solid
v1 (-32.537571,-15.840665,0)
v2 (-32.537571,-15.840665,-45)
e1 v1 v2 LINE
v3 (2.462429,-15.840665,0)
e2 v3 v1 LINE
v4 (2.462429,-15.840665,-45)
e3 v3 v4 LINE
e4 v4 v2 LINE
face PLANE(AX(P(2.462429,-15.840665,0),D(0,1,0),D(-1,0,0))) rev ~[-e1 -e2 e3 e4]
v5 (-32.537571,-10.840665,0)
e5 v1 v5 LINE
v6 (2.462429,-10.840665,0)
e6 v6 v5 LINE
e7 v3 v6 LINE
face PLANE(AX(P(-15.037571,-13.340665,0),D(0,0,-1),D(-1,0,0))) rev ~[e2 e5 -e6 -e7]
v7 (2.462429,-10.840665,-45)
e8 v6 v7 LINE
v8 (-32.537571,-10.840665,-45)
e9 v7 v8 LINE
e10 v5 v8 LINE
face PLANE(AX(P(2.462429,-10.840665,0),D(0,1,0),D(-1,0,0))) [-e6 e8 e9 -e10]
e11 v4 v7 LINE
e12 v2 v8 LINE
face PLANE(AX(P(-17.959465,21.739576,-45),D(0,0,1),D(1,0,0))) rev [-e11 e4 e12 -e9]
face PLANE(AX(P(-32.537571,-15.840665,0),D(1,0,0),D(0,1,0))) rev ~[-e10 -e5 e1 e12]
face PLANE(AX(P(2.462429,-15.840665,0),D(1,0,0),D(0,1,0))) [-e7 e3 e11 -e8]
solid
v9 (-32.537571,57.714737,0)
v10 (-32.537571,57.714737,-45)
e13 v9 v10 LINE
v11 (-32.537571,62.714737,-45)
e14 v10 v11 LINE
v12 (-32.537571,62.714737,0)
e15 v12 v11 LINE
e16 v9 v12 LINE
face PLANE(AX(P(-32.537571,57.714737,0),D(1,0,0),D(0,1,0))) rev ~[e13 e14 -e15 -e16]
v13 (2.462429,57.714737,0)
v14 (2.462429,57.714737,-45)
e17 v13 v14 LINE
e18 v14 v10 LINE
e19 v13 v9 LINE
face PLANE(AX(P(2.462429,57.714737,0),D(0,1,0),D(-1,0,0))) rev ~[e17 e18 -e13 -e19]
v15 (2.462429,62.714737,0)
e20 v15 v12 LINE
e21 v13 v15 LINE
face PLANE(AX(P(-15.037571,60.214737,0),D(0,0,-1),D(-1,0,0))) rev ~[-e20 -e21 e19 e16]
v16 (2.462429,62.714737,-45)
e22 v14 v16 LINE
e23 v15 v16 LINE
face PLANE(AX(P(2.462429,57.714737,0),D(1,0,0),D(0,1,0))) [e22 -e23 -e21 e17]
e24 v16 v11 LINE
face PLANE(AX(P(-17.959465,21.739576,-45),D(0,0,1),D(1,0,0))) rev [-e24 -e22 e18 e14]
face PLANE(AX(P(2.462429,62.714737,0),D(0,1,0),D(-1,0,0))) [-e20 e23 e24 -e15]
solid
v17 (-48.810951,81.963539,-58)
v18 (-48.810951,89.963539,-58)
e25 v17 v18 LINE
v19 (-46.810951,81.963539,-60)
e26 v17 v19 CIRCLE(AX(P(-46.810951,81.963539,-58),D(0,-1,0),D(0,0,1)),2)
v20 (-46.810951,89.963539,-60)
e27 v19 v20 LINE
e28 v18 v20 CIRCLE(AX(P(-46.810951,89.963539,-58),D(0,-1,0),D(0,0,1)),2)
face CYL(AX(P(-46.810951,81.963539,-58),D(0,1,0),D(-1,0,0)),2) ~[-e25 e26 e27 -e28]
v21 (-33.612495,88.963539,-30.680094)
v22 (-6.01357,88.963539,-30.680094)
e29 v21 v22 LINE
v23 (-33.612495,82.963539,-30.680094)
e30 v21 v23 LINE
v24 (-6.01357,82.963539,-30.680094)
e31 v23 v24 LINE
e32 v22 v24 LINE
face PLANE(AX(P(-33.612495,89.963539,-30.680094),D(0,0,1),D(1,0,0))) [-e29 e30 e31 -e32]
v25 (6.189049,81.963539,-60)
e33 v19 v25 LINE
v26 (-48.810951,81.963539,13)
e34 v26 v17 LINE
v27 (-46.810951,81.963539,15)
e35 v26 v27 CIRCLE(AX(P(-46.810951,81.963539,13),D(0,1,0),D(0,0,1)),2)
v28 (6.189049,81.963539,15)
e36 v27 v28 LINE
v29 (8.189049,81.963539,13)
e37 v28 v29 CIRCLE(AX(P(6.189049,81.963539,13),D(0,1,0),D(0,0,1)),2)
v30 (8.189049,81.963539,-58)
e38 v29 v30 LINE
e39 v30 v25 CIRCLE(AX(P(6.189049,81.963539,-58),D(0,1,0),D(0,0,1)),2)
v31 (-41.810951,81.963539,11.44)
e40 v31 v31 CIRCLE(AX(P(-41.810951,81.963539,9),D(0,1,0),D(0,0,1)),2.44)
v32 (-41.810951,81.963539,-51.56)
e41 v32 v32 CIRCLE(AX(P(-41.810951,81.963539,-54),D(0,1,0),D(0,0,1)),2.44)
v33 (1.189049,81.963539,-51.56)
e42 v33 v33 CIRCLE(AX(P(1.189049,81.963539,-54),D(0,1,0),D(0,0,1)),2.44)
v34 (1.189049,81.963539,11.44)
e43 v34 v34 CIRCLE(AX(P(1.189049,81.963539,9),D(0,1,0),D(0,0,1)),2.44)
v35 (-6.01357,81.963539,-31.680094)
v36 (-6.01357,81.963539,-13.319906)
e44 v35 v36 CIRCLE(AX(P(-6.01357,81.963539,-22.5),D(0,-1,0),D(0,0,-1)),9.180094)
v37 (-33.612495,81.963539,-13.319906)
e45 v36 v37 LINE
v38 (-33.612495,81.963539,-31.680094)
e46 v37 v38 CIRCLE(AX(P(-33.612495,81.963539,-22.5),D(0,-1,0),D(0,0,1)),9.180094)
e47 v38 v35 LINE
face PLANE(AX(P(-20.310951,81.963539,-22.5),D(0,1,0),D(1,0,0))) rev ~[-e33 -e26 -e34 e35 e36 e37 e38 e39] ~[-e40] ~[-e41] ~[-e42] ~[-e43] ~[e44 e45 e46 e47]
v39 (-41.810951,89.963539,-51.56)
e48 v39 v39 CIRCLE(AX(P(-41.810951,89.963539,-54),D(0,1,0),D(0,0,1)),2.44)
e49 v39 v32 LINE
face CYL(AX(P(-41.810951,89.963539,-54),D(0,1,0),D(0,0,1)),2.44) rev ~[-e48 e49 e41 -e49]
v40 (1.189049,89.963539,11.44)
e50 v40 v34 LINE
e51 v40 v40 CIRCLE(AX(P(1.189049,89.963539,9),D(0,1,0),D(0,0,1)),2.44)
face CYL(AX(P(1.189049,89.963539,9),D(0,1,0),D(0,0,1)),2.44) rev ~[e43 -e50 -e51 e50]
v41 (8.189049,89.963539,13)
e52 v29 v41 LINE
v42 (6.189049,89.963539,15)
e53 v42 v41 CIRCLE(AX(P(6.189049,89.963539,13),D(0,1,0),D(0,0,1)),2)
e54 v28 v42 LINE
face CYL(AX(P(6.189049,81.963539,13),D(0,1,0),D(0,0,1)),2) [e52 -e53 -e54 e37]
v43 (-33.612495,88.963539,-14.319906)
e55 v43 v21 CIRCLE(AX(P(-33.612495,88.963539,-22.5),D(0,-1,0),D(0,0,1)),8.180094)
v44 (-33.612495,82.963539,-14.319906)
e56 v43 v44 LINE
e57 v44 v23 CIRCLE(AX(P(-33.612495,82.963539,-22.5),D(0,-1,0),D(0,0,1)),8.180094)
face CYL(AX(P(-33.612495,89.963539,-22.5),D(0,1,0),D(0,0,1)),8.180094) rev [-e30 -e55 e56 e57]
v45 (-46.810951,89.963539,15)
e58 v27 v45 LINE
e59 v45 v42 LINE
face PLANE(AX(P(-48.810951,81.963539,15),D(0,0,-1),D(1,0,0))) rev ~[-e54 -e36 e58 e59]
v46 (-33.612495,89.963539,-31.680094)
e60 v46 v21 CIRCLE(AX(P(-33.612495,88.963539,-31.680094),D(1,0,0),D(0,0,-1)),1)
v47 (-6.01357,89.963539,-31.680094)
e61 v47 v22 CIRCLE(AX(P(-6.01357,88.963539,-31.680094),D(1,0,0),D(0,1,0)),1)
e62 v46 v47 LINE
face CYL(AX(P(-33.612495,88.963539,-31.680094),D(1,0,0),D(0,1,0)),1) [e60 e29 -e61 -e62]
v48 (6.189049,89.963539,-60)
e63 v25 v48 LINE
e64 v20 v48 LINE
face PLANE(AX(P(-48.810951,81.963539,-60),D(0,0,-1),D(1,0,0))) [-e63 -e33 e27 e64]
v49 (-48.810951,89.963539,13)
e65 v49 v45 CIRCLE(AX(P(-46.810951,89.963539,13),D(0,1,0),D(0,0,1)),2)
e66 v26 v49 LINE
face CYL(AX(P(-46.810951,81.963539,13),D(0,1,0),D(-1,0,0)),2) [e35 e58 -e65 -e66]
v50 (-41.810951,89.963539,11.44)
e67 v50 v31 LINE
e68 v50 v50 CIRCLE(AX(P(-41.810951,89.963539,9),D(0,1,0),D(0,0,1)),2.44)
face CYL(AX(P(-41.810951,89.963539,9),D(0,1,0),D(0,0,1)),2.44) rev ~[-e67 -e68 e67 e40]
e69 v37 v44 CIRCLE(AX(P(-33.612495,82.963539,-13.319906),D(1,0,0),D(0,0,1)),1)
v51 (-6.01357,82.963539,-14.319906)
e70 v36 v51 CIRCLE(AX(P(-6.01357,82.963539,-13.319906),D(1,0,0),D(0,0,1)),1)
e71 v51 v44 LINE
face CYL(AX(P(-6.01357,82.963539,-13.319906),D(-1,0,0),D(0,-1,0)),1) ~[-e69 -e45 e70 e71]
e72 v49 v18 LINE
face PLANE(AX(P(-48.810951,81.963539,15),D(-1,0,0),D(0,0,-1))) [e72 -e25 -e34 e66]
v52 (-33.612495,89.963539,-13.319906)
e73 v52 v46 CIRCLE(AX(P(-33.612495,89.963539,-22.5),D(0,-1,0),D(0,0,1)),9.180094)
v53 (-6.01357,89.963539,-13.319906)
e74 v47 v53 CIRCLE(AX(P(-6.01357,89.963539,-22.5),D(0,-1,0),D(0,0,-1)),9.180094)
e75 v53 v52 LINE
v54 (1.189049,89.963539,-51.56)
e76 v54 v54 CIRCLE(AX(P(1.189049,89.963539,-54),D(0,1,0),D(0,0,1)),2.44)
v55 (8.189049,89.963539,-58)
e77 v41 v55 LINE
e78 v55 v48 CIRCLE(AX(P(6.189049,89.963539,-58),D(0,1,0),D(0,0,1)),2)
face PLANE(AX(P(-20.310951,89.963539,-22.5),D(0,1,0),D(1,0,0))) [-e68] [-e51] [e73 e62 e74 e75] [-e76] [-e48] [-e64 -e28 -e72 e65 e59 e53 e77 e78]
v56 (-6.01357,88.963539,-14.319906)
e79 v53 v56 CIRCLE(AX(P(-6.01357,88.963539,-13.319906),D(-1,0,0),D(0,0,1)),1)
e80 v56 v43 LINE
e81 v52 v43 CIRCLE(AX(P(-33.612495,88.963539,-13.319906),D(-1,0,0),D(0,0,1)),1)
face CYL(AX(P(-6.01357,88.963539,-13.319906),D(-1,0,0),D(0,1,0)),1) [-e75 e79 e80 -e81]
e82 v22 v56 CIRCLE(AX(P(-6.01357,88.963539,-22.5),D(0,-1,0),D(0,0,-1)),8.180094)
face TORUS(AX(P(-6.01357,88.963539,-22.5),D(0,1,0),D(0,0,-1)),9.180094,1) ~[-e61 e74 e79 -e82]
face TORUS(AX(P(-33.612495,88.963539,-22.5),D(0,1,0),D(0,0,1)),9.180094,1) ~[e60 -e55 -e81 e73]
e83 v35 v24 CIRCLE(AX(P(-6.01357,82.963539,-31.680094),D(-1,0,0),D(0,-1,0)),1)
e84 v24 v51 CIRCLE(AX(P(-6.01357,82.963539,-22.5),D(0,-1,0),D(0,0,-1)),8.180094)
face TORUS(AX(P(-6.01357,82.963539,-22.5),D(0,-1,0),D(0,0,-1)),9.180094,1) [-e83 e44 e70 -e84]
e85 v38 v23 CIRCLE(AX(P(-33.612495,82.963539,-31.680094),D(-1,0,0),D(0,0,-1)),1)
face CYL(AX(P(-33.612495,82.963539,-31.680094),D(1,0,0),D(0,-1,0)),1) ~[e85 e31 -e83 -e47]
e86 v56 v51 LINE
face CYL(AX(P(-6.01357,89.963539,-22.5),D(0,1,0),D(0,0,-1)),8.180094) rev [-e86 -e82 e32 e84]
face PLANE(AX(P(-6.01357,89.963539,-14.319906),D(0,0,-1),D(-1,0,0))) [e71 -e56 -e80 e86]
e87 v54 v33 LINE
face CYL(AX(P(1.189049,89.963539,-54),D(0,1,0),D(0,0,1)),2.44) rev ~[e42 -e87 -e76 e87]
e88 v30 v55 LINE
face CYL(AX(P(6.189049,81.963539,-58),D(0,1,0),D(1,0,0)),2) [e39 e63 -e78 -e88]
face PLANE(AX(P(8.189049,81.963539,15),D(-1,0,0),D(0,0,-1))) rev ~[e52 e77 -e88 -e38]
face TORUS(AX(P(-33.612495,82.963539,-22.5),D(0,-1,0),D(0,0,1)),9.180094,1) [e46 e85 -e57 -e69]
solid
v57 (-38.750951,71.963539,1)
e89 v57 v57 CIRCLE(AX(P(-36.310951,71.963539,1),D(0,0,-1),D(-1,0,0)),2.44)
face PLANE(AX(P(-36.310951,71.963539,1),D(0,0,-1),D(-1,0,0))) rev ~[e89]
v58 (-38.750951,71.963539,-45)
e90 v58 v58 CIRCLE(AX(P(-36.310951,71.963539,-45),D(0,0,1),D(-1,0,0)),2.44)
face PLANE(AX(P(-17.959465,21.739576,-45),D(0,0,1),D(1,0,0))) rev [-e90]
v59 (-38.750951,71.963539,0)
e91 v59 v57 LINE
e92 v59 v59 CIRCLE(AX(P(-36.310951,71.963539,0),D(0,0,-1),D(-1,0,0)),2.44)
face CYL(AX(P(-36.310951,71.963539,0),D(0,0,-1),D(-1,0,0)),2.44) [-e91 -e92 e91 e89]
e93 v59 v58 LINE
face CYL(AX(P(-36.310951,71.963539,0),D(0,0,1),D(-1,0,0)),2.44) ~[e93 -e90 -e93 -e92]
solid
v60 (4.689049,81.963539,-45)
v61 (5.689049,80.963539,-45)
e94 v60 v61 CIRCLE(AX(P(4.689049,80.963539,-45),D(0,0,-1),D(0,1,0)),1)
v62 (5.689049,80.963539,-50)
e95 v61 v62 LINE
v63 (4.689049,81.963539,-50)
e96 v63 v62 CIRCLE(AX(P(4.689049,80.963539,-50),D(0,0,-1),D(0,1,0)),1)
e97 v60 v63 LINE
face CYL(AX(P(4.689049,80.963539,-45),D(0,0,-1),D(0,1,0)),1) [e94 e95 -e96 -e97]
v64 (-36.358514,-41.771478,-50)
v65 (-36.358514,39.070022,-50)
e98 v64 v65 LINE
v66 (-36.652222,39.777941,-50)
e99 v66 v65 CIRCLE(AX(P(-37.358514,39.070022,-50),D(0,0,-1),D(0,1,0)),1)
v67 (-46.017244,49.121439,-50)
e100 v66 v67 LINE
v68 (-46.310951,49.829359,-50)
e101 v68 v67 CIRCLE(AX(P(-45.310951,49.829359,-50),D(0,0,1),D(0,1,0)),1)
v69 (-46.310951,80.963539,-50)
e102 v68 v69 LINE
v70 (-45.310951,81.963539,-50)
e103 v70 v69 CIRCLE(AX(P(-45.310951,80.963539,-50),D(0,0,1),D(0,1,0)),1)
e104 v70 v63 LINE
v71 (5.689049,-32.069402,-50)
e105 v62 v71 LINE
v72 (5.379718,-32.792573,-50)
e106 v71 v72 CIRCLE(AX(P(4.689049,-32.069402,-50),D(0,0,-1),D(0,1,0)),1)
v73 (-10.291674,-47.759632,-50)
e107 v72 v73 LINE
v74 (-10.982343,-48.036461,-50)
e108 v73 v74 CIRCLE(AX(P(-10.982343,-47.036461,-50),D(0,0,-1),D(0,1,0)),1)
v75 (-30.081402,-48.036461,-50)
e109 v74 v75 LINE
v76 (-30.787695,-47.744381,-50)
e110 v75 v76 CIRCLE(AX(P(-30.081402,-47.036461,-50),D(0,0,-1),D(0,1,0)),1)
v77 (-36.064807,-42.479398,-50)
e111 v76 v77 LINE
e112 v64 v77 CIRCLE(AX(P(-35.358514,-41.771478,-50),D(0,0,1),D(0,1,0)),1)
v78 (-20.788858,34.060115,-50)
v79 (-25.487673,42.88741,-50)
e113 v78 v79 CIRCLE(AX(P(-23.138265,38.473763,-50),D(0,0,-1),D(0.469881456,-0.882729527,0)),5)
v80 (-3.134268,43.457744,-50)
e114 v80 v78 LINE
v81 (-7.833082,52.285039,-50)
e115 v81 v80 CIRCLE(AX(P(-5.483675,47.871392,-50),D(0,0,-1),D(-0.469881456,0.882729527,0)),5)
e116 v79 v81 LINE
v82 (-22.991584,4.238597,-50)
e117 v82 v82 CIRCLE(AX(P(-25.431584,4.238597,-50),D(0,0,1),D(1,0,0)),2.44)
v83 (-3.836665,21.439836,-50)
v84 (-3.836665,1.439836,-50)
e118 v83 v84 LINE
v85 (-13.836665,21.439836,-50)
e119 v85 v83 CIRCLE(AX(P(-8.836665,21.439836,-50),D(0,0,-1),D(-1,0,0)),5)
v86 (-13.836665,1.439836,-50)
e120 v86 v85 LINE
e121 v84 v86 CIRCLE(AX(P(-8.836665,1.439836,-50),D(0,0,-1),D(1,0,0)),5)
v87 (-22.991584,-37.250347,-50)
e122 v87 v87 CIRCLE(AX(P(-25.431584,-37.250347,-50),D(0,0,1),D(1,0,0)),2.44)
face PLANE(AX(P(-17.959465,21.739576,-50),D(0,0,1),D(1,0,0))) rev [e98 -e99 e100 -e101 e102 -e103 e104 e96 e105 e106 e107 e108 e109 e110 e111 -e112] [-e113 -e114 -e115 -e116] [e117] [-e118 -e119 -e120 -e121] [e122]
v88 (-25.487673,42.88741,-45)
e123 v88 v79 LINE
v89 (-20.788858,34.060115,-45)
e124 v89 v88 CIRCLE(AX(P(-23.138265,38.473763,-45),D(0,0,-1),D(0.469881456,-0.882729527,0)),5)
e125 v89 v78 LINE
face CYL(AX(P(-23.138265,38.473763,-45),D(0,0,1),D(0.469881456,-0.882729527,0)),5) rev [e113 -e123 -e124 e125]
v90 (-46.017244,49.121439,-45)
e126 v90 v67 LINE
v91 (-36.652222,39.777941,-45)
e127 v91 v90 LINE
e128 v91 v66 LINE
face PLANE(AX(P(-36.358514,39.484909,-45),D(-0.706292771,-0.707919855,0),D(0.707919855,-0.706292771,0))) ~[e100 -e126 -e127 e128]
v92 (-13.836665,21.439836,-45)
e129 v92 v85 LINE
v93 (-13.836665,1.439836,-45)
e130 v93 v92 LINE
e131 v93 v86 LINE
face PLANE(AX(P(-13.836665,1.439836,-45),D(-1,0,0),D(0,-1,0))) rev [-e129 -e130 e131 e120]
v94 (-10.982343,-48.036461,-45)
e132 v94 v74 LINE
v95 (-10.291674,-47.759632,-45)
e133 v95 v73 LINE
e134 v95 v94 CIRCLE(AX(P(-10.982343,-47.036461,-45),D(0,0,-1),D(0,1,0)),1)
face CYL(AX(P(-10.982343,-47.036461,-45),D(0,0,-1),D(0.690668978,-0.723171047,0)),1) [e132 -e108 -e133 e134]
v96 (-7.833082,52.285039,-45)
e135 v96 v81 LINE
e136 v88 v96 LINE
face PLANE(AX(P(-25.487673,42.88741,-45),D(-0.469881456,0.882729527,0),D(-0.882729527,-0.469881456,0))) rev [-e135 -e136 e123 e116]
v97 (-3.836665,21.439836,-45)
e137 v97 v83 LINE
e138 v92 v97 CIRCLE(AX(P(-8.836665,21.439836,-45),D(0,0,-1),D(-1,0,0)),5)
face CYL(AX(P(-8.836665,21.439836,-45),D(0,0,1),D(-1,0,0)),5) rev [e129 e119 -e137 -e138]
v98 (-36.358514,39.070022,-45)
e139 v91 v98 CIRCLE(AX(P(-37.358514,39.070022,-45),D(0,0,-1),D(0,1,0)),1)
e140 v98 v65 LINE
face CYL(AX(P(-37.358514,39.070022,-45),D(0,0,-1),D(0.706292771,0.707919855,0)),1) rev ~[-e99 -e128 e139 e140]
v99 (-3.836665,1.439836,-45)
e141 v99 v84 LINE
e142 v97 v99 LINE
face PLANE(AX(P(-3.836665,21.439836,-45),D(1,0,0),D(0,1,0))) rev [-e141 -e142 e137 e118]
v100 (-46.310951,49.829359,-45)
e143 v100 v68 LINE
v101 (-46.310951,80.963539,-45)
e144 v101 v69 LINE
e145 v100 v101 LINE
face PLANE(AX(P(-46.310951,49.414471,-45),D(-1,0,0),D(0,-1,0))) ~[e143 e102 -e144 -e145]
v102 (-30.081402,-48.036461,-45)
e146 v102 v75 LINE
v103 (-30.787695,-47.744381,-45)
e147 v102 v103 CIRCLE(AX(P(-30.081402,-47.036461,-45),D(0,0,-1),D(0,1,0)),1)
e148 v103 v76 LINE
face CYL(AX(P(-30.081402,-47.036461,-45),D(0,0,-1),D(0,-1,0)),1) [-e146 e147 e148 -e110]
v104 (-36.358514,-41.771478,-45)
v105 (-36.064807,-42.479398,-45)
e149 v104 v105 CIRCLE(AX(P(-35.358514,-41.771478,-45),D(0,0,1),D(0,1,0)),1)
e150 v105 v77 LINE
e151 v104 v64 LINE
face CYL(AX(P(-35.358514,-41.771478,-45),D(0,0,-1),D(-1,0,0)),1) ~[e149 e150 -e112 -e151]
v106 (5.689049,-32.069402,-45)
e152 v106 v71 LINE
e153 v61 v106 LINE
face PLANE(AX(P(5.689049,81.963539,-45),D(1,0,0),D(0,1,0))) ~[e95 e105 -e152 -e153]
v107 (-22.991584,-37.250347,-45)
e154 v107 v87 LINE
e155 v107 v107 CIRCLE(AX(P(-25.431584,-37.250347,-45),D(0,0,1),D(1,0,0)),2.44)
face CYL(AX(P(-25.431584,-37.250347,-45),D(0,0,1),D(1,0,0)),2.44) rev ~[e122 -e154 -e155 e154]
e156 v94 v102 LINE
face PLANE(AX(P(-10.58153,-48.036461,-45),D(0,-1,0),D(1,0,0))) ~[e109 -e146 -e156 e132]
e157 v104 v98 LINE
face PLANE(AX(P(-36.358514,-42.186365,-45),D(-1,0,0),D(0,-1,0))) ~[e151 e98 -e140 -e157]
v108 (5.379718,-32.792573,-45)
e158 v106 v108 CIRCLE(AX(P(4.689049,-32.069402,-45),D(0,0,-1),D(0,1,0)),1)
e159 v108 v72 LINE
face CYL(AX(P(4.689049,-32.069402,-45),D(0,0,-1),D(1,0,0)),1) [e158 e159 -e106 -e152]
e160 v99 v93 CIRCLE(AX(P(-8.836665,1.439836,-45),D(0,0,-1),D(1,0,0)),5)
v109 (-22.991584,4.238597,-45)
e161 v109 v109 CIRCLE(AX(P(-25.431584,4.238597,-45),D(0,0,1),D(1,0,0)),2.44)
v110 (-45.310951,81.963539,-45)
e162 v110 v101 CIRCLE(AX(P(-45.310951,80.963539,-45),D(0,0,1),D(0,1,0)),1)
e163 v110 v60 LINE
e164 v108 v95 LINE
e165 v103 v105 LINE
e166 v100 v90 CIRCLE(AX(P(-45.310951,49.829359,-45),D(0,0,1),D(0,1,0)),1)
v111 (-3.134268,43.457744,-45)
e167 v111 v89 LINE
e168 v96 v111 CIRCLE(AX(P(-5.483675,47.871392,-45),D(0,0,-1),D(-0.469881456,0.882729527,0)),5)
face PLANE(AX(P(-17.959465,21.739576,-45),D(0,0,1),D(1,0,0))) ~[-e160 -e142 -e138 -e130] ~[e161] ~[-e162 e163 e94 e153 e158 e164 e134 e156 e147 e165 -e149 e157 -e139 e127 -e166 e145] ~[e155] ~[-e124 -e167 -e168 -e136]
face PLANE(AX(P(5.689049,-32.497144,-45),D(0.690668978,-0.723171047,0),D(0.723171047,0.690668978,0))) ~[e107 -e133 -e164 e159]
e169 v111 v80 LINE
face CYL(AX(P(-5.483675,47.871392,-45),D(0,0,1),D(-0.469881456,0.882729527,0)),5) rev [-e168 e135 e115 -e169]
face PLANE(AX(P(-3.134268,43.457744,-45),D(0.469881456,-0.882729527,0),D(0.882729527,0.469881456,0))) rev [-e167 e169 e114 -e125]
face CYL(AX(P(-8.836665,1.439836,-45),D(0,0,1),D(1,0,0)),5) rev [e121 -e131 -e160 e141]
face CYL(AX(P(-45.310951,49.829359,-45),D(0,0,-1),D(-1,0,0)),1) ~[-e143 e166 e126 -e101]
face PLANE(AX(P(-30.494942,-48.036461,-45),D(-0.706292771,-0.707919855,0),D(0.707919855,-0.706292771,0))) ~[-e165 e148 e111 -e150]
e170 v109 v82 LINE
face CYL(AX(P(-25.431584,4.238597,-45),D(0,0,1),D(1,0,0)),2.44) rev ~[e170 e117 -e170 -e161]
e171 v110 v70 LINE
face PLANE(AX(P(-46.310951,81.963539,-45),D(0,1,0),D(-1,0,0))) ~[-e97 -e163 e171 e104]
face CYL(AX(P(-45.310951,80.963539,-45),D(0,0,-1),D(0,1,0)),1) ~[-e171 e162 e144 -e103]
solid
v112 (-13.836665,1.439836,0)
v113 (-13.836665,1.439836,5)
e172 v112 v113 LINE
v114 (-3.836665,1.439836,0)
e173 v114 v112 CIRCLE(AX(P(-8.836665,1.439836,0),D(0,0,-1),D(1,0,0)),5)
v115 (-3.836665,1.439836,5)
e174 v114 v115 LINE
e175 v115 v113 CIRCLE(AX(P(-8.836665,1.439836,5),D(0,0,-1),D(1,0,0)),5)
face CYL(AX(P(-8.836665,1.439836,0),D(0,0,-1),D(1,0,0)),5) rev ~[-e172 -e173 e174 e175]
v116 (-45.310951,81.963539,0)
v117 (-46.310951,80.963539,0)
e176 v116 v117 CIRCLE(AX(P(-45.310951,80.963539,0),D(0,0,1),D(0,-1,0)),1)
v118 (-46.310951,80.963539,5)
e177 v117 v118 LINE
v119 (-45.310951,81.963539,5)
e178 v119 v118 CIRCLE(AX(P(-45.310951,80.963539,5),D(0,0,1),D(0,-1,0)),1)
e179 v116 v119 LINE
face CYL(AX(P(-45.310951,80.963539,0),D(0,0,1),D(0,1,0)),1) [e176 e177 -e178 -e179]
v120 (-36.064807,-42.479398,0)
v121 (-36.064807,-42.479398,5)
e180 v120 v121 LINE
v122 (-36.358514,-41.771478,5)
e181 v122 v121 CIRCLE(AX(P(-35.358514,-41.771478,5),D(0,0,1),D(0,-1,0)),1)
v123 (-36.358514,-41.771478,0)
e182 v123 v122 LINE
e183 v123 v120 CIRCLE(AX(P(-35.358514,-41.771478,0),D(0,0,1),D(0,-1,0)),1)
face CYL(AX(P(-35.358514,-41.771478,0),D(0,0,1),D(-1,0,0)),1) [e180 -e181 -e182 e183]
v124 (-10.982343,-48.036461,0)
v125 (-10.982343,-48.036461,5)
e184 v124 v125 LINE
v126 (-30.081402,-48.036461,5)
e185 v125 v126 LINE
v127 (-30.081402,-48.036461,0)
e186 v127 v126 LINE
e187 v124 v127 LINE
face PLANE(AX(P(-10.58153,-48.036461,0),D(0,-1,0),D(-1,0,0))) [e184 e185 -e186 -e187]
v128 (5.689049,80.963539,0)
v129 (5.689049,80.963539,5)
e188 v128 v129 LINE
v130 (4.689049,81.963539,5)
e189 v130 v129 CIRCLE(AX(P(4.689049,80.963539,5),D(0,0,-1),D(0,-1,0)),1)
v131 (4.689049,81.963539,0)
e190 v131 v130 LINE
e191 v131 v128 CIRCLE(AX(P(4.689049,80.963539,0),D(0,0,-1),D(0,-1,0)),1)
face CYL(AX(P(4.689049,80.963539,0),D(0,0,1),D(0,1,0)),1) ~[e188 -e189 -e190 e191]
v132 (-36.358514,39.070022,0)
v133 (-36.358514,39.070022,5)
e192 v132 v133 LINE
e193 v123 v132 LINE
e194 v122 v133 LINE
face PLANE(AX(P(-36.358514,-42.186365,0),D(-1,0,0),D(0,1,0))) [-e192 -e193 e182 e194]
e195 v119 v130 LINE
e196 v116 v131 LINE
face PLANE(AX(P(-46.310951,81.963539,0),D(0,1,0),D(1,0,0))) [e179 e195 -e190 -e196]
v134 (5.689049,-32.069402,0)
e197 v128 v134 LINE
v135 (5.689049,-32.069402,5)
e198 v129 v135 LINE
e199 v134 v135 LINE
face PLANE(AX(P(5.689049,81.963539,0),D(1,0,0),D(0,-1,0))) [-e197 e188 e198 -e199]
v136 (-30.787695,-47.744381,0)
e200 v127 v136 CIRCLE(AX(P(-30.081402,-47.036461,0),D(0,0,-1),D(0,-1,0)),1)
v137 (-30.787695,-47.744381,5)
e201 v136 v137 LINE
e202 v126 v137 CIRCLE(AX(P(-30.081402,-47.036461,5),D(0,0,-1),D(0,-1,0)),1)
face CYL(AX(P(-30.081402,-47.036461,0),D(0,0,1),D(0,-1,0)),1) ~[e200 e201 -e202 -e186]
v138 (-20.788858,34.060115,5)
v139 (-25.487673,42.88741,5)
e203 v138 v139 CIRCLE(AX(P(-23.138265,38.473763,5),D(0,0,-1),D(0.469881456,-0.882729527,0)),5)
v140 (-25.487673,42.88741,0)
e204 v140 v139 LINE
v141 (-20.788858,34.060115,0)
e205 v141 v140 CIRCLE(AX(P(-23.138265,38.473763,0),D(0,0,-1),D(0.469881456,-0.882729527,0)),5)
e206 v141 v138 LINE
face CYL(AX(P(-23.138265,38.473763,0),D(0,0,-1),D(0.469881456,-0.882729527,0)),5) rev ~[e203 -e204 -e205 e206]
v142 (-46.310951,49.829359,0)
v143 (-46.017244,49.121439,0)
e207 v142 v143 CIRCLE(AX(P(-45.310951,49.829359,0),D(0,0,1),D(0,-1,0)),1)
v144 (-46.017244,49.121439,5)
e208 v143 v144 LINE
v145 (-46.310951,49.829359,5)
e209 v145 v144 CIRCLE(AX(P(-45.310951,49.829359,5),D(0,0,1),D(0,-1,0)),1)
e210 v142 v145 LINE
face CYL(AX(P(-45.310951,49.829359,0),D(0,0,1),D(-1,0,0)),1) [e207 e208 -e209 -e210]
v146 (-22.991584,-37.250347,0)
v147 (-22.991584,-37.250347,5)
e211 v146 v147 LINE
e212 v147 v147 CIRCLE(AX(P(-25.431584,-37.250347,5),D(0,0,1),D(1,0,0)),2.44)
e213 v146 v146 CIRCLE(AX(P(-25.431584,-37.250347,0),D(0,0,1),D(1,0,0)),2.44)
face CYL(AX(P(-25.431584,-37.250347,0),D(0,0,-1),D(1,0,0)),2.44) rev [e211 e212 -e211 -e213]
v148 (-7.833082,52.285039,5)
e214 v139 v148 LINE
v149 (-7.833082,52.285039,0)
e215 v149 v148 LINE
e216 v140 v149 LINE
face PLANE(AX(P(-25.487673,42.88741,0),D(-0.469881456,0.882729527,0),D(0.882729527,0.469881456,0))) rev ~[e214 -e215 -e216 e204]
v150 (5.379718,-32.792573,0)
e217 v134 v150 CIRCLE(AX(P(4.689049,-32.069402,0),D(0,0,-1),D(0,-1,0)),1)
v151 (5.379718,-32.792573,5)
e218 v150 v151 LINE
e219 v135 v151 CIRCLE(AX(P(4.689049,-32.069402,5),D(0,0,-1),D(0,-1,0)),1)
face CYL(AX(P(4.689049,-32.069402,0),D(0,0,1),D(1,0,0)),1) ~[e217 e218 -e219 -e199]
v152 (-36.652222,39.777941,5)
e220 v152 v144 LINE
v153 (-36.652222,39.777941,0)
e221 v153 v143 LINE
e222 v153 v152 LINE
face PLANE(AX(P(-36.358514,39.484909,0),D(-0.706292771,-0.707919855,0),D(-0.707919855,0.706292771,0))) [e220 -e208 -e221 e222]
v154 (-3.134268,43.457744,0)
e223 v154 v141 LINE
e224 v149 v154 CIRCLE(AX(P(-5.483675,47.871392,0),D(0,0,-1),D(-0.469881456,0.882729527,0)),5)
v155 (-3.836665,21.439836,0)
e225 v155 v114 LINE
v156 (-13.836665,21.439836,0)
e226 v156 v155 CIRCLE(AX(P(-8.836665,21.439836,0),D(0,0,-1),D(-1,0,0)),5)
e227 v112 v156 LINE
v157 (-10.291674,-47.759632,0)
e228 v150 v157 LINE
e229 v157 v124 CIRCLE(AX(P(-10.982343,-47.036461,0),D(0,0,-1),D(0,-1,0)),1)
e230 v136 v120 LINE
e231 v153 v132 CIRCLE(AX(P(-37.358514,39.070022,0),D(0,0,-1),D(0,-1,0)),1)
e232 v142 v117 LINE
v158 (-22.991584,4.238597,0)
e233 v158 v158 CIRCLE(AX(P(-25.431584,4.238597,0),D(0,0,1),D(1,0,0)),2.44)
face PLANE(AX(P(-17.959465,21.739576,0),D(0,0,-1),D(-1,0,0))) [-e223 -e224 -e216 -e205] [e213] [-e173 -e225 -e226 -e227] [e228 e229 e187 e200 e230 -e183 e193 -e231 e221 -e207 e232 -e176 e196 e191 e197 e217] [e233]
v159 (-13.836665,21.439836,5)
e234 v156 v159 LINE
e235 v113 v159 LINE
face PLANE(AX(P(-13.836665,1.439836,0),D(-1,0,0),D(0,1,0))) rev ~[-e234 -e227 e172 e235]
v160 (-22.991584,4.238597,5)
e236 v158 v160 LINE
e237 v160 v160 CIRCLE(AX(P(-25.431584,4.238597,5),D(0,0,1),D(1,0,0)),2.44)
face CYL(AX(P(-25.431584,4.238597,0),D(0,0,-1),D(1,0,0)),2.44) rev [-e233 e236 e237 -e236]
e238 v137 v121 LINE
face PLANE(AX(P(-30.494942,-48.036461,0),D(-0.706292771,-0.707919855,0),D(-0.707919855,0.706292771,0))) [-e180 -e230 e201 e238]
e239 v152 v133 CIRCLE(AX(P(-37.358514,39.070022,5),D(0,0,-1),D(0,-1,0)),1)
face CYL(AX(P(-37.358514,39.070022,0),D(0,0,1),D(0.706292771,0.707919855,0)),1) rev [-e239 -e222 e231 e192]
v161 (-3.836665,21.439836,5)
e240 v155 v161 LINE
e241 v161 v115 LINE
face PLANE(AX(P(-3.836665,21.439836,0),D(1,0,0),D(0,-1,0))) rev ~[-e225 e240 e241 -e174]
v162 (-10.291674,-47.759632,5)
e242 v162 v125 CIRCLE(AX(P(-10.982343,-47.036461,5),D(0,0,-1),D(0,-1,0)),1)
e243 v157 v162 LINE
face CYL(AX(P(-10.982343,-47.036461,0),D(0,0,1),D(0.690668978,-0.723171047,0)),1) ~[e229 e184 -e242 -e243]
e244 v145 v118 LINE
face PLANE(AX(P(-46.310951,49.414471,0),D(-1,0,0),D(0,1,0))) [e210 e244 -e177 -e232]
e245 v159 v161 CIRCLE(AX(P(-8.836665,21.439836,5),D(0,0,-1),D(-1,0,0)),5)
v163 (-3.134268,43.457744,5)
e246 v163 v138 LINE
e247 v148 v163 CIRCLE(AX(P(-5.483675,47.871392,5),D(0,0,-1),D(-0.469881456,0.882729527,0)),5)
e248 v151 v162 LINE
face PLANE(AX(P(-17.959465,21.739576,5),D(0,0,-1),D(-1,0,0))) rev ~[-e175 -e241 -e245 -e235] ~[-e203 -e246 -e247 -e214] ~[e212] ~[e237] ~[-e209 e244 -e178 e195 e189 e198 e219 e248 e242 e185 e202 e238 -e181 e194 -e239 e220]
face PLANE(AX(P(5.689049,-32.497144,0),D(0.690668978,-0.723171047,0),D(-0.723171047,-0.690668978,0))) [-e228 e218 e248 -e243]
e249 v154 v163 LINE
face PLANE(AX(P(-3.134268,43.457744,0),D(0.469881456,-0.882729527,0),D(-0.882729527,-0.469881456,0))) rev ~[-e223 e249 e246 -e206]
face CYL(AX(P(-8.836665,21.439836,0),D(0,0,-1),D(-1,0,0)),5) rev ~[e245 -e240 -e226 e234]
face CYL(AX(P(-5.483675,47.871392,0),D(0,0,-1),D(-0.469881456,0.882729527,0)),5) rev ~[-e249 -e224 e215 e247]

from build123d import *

# Parameters (mm, degrees)
SKETCH_1_R                  = 2.44
EXTRUDE_1_DEPTH             = 5
SKETCH_2_W                  = 57
SKETCH_2_H                  = 75
EXTRUDE_2_DEPTH             = 8
FILLET_2_R                  = 2
SKETCH_5_R                  = 2.44
CUT_EXTRUDE_1_DEPTH         = 8
CUT_EXTRUDE_2_DEPTH         = 8
EXTRUDE_3_REACH             = 120.642
SKETCH_8_W                  = 35
SKETCH_8_H                  = 5
EXTRUDE_5_REACH             = 120.642
SKETCH_11_R                 = 2.44
EXTRUDE_5_DIRECTION_2_DEPTH = 1
FILLET_3_R                  = 1
FILLET_4_R                  = 1
FILLET_5_R                  = 1


with BuildPart() as part:
    # 草图1 → 凸台-拉伸1 (new body)
    with BuildSketch(Plane.XY):
        Polygon((-46.310951177, 81.963538879), (5.689048823, 81.963538879), (5.689048823, -32.497144245), (-10.581530023, -48.036461121), (-30.494941882, -48.036461121), (-36.358514487, -42.186365356), (-36.358514487, 39.484909248), (-46.310951177, 49.414471249), align=None)
        with Locations((-25.431583751, 4.238597292)):
            Circle(SKETCH_1_R, mode=Mode.SUBTRACT)
        with Locations((-25.431583751, -37.250347054)):
            Circle(SKETCH_1_R, mode=Mode.SUBTRACT)
        with BuildLine():
            Line((-3.836664977, 21.439836348), (-3.836664977, 1.439836348))
            ThreePointArc((-3.836664977, 1.439836348), (-8.836664977, -3.560163652), (-13.836664977, 1.439836348))
            Line((-13.836664977, 1.439836348), (-13.836664977, 21.439836348))
            ThreePointArc((-13.836664977, 21.439836348), (-8.836664977, 26.439836348), (-3.836664977, 21.439836348))
        make_face(mode=Mode.SUBTRACT)
        with BuildLine():
            Line((-25.487672716, 42.887410274), (-7.833082179, 52.28503939))
            ThreePointArc((-7.833082179, 52.28503939), (-1.070027266, 50.220799035), (-3.134267621, 43.457744122))
            Line((-3.134267621, 43.457744122), (-20.788858158, 34.060115006))
            ThreePointArc((-20.788858158, 34.060115006), (-27.551913071, 36.124355361), (-25.487672716, 42.887410274))
        make_face(mode=Mode.SUBTRACT)
    extrude(amount=EXTRUDE_1_DEPTH)


with BuildPart() as body_2:
    # 草图2 → 凸台-拉伸2 (new body)
    with BuildSketch(Plane(origin=(0, 81.963538879, 0), x_dir=(1, 0, 0), z_dir=(0, 1, 0))):
        with Locations((-20.310951177, 22.5)):
            Rectangle(SKETCH_2_W, SKETCH_2_H)
    extrude(amount=EXTRUDE_2_DEPTH)

    # 圆角2
    fillet_2_edges = [body_2.edges().sort_by_distance(p)[0] for p in [
        (8.189048823, 85.963538879, 15),
        (-48.810951177, 85.963538879, 15),
        (-48.810951177, 85.963538879, -60),
        (8.189048823, 85.963538879, -60),
    ]]
    fillet(fillet_2_edges, radius=FILLET_2_R)

    # 草图5 → 切除-拉伸1 (cut)
    with BuildSketch(Plane(origin=(0, 89.963538879, 0), x_dir=(1, 0, 0), z_dir=(0, 1, 0))):
        with Locations(Location((-41.810951177, 54, 0), (0, 0, 270))):
            Circle(SKETCH_5_R)
        with Locations(Location((1.189048823, 54, 0), (0, 0, 270))):
            Circle(SKETCH_5_R)
        with Locations(Location((-41.810951177, -9, 0), (0, 0, 270))):
            Circle(SKETCH_5_R)
        with Locations(Location((1.189048823, -9, 0), (0, 0, 270))):
            Circle(SKETCH_5_R)
    extrude(amount=-CUT_EXTRUDE_1_DEPTH, mode=Mode.SUBTRACT)

    # 草图6 → 切除-拉伸2 (cut)
    with BuildSketch(Plane(origin=(0, 89.963538879, 0), x_dir=(1, 0, 0), z_dir=(0, 1, 0))):
        with BuildLine():
            Line((-33.612494658, 30.680093585), (-6.013570216, 30.680093585))
            ThreePointArc((-6.013570216, 30.680093585), (2.166523369, 22.5), (-6.013570216, 14.319906415))
            Line((-6.013570216, 14.319906415), (-33.612494658, 14.319906415))
            ThreePointArc((-33.612494658, 14.319906415), (-41.792588242, 22.5), (-33.612494658, 30.680093585))
        make_face()
    extrude(amount=-CUT_EXTRUDE_2_DEPTH, mode=Mode.SUBTRACT)

    # 圆角3
    fillet_3_edges = [body_2.edges().sort_by_distance(p)[0] for p in [
        (-41.792588242, 81.963538879, -22.5),
        (-19.813032437, 81.963538879, -30.680093585),
        (2.166523369, 81.963538879, -22.5),
        (-19.813032437, 81.963538879, -14.319906415),
        (-41.792588242, 89.963538879, -22.5),
        (-19.813032437, 89.963538879, -14.319906415),
        (2.166523369, 89.963538879, -22.5),
        (-19.813032437, 89.963538879, -30.680093585),
    ]]
    fillet(fillet_3_edges, radius=FILLET_3_R)


with BuildPart() as body_3:
    # 镜向2: mirrored copy
    add(part.part.mirror(Plane.XY.offset(-22.5)))


with BuildPart() as body_4:

    # 草图8 → 凸台-拉伸3 (new, up to next)
    with BuildSketch(Plane(origin=(0, 0, 0), x_dir=(-1, 0, 0), z_dir=(0, 0, -1)), mode=Mode.PRIVATE) as extrude_3_sk1:
        with Locations((15.037570637, 60.214736535)):
            Rectangle(SKETCH_8_W, SKETCH_8_H)
    extrude_3_tool1 = extrude(extrude_3_sk1.sketch, amount=EXTRUDE_3_REACH, mode=Mode.PRIVATE) - body_3.part
    # 草图8 → 凸台-拉伸3 (new, up to next)
    with BuildSketch(Plane(origin=(0, 0, 0), x_dir=(-1, 0, 0), z_dir=(0, 0, -1)), mode=Mode.PRIVATE) as extrude_3_sk2:
        with Locations((15.037570637, -13.340664977)):
            Rectangle(SKETCH_8_W, SKETCH_8_H)
    extrude_3_tool2 = extrude(extrude_3_sk2.sketch, amount=EXTRUDE_3_REACH, mode=Mode.PRIVATE) - body_3.part
    add(extrude_3_tool1.solids().sort_by_distance((-15.037571, 60.214737, 0))[0])
    add(extrude_3_tool2.solids().sort_by_distance((-15.037571, -13.340665, 0))[0])


with BuildPart() as body_5:

    # 草图11 → 凸台-拉伸5 (new, up to next)
    with BuildSketch(Plane(origin=(0, 0, 0), x_dir=(-1, 0, 0), z_dir=(0, 0, -1)), mode=Mode.PRIVATE) as extrude_5_sk1:
        with Locations((36.310951177, 71.963538879)):
            Circle(SKETCH_11_R)
    extrude_5_tool1 = extrude(extrude_5_sk1.sketch, amount=EXTRUDE_5_REACH, mode=Mode.PRIVATE) - body_3.part
    add(extrude_5_tool1.solids().sort_by_distance((-36.310951, 71.963539, 0))[0])

    # 草图11 → 凸台-拉伸5 direction 2 (add)
    with BuildSketch(Plane(origin=(0, 0, 0), x_dir=(-1, 0, 0), z_dir=(0, 0, -1))):
        with Locations((36.310951177, 71.963538879)):
            Circle(SKETCH_11_R)
    extrude(amount=-EXTRUDE_5_DIRECTION_2_DEPTH)


with BuildPart() as body_3_1:
    add(body_3.part)

    # 圆角4
    fillet_4_edges = [body_3_1.edges().sort_by_distance(p)[0] for p in [
        (-46.310951177, 81.963538879, -47.5),
        (5.689048823, 81.963538879, -47.5),
        (5.689048823, -32.497144245, -47.5),
        (-10.581530023, -48.036461121, -47.5),
        (-30.494941882, -48.036461121, -47.5),
        (-36.358514487, -42.186365356, -47.5),
        (-36.358514487, 39.484909248, -47.5),
        (-46.310951177, 49.414471249, -47.5),
    ]]
    fillet(fillet_4_edges, radius=FILLET_4_R)


with BuildPart() as part_1:
    add(part.part)

    # 圆角5
    fillet_5_edges = [part_1.edges().sort_by_distance(p)[0] for p in [
        (-46.310951177, 81.963538879, 2.5),
        (5.689048823, 81.963538879, 2.5),
        (5.689048823, -32.497144245, 2.5),
        (-10.581530023, -48.036461121, 2.5),
        (-30.494941882, -48.036461121, 2.5),
        (-36.358514487, -42.186365356, 2.5),
        (-36.358514487, 39.484909248, 2.5),
        (-46.310951177, 49.414471249, 2.5),
    ]]
    fillet(fillet_5_edges, radius=FILLET_5_R)


solid = Compound([body_2.part, body_4.part, body_5.part, body_3_1.part, part_1.part])
